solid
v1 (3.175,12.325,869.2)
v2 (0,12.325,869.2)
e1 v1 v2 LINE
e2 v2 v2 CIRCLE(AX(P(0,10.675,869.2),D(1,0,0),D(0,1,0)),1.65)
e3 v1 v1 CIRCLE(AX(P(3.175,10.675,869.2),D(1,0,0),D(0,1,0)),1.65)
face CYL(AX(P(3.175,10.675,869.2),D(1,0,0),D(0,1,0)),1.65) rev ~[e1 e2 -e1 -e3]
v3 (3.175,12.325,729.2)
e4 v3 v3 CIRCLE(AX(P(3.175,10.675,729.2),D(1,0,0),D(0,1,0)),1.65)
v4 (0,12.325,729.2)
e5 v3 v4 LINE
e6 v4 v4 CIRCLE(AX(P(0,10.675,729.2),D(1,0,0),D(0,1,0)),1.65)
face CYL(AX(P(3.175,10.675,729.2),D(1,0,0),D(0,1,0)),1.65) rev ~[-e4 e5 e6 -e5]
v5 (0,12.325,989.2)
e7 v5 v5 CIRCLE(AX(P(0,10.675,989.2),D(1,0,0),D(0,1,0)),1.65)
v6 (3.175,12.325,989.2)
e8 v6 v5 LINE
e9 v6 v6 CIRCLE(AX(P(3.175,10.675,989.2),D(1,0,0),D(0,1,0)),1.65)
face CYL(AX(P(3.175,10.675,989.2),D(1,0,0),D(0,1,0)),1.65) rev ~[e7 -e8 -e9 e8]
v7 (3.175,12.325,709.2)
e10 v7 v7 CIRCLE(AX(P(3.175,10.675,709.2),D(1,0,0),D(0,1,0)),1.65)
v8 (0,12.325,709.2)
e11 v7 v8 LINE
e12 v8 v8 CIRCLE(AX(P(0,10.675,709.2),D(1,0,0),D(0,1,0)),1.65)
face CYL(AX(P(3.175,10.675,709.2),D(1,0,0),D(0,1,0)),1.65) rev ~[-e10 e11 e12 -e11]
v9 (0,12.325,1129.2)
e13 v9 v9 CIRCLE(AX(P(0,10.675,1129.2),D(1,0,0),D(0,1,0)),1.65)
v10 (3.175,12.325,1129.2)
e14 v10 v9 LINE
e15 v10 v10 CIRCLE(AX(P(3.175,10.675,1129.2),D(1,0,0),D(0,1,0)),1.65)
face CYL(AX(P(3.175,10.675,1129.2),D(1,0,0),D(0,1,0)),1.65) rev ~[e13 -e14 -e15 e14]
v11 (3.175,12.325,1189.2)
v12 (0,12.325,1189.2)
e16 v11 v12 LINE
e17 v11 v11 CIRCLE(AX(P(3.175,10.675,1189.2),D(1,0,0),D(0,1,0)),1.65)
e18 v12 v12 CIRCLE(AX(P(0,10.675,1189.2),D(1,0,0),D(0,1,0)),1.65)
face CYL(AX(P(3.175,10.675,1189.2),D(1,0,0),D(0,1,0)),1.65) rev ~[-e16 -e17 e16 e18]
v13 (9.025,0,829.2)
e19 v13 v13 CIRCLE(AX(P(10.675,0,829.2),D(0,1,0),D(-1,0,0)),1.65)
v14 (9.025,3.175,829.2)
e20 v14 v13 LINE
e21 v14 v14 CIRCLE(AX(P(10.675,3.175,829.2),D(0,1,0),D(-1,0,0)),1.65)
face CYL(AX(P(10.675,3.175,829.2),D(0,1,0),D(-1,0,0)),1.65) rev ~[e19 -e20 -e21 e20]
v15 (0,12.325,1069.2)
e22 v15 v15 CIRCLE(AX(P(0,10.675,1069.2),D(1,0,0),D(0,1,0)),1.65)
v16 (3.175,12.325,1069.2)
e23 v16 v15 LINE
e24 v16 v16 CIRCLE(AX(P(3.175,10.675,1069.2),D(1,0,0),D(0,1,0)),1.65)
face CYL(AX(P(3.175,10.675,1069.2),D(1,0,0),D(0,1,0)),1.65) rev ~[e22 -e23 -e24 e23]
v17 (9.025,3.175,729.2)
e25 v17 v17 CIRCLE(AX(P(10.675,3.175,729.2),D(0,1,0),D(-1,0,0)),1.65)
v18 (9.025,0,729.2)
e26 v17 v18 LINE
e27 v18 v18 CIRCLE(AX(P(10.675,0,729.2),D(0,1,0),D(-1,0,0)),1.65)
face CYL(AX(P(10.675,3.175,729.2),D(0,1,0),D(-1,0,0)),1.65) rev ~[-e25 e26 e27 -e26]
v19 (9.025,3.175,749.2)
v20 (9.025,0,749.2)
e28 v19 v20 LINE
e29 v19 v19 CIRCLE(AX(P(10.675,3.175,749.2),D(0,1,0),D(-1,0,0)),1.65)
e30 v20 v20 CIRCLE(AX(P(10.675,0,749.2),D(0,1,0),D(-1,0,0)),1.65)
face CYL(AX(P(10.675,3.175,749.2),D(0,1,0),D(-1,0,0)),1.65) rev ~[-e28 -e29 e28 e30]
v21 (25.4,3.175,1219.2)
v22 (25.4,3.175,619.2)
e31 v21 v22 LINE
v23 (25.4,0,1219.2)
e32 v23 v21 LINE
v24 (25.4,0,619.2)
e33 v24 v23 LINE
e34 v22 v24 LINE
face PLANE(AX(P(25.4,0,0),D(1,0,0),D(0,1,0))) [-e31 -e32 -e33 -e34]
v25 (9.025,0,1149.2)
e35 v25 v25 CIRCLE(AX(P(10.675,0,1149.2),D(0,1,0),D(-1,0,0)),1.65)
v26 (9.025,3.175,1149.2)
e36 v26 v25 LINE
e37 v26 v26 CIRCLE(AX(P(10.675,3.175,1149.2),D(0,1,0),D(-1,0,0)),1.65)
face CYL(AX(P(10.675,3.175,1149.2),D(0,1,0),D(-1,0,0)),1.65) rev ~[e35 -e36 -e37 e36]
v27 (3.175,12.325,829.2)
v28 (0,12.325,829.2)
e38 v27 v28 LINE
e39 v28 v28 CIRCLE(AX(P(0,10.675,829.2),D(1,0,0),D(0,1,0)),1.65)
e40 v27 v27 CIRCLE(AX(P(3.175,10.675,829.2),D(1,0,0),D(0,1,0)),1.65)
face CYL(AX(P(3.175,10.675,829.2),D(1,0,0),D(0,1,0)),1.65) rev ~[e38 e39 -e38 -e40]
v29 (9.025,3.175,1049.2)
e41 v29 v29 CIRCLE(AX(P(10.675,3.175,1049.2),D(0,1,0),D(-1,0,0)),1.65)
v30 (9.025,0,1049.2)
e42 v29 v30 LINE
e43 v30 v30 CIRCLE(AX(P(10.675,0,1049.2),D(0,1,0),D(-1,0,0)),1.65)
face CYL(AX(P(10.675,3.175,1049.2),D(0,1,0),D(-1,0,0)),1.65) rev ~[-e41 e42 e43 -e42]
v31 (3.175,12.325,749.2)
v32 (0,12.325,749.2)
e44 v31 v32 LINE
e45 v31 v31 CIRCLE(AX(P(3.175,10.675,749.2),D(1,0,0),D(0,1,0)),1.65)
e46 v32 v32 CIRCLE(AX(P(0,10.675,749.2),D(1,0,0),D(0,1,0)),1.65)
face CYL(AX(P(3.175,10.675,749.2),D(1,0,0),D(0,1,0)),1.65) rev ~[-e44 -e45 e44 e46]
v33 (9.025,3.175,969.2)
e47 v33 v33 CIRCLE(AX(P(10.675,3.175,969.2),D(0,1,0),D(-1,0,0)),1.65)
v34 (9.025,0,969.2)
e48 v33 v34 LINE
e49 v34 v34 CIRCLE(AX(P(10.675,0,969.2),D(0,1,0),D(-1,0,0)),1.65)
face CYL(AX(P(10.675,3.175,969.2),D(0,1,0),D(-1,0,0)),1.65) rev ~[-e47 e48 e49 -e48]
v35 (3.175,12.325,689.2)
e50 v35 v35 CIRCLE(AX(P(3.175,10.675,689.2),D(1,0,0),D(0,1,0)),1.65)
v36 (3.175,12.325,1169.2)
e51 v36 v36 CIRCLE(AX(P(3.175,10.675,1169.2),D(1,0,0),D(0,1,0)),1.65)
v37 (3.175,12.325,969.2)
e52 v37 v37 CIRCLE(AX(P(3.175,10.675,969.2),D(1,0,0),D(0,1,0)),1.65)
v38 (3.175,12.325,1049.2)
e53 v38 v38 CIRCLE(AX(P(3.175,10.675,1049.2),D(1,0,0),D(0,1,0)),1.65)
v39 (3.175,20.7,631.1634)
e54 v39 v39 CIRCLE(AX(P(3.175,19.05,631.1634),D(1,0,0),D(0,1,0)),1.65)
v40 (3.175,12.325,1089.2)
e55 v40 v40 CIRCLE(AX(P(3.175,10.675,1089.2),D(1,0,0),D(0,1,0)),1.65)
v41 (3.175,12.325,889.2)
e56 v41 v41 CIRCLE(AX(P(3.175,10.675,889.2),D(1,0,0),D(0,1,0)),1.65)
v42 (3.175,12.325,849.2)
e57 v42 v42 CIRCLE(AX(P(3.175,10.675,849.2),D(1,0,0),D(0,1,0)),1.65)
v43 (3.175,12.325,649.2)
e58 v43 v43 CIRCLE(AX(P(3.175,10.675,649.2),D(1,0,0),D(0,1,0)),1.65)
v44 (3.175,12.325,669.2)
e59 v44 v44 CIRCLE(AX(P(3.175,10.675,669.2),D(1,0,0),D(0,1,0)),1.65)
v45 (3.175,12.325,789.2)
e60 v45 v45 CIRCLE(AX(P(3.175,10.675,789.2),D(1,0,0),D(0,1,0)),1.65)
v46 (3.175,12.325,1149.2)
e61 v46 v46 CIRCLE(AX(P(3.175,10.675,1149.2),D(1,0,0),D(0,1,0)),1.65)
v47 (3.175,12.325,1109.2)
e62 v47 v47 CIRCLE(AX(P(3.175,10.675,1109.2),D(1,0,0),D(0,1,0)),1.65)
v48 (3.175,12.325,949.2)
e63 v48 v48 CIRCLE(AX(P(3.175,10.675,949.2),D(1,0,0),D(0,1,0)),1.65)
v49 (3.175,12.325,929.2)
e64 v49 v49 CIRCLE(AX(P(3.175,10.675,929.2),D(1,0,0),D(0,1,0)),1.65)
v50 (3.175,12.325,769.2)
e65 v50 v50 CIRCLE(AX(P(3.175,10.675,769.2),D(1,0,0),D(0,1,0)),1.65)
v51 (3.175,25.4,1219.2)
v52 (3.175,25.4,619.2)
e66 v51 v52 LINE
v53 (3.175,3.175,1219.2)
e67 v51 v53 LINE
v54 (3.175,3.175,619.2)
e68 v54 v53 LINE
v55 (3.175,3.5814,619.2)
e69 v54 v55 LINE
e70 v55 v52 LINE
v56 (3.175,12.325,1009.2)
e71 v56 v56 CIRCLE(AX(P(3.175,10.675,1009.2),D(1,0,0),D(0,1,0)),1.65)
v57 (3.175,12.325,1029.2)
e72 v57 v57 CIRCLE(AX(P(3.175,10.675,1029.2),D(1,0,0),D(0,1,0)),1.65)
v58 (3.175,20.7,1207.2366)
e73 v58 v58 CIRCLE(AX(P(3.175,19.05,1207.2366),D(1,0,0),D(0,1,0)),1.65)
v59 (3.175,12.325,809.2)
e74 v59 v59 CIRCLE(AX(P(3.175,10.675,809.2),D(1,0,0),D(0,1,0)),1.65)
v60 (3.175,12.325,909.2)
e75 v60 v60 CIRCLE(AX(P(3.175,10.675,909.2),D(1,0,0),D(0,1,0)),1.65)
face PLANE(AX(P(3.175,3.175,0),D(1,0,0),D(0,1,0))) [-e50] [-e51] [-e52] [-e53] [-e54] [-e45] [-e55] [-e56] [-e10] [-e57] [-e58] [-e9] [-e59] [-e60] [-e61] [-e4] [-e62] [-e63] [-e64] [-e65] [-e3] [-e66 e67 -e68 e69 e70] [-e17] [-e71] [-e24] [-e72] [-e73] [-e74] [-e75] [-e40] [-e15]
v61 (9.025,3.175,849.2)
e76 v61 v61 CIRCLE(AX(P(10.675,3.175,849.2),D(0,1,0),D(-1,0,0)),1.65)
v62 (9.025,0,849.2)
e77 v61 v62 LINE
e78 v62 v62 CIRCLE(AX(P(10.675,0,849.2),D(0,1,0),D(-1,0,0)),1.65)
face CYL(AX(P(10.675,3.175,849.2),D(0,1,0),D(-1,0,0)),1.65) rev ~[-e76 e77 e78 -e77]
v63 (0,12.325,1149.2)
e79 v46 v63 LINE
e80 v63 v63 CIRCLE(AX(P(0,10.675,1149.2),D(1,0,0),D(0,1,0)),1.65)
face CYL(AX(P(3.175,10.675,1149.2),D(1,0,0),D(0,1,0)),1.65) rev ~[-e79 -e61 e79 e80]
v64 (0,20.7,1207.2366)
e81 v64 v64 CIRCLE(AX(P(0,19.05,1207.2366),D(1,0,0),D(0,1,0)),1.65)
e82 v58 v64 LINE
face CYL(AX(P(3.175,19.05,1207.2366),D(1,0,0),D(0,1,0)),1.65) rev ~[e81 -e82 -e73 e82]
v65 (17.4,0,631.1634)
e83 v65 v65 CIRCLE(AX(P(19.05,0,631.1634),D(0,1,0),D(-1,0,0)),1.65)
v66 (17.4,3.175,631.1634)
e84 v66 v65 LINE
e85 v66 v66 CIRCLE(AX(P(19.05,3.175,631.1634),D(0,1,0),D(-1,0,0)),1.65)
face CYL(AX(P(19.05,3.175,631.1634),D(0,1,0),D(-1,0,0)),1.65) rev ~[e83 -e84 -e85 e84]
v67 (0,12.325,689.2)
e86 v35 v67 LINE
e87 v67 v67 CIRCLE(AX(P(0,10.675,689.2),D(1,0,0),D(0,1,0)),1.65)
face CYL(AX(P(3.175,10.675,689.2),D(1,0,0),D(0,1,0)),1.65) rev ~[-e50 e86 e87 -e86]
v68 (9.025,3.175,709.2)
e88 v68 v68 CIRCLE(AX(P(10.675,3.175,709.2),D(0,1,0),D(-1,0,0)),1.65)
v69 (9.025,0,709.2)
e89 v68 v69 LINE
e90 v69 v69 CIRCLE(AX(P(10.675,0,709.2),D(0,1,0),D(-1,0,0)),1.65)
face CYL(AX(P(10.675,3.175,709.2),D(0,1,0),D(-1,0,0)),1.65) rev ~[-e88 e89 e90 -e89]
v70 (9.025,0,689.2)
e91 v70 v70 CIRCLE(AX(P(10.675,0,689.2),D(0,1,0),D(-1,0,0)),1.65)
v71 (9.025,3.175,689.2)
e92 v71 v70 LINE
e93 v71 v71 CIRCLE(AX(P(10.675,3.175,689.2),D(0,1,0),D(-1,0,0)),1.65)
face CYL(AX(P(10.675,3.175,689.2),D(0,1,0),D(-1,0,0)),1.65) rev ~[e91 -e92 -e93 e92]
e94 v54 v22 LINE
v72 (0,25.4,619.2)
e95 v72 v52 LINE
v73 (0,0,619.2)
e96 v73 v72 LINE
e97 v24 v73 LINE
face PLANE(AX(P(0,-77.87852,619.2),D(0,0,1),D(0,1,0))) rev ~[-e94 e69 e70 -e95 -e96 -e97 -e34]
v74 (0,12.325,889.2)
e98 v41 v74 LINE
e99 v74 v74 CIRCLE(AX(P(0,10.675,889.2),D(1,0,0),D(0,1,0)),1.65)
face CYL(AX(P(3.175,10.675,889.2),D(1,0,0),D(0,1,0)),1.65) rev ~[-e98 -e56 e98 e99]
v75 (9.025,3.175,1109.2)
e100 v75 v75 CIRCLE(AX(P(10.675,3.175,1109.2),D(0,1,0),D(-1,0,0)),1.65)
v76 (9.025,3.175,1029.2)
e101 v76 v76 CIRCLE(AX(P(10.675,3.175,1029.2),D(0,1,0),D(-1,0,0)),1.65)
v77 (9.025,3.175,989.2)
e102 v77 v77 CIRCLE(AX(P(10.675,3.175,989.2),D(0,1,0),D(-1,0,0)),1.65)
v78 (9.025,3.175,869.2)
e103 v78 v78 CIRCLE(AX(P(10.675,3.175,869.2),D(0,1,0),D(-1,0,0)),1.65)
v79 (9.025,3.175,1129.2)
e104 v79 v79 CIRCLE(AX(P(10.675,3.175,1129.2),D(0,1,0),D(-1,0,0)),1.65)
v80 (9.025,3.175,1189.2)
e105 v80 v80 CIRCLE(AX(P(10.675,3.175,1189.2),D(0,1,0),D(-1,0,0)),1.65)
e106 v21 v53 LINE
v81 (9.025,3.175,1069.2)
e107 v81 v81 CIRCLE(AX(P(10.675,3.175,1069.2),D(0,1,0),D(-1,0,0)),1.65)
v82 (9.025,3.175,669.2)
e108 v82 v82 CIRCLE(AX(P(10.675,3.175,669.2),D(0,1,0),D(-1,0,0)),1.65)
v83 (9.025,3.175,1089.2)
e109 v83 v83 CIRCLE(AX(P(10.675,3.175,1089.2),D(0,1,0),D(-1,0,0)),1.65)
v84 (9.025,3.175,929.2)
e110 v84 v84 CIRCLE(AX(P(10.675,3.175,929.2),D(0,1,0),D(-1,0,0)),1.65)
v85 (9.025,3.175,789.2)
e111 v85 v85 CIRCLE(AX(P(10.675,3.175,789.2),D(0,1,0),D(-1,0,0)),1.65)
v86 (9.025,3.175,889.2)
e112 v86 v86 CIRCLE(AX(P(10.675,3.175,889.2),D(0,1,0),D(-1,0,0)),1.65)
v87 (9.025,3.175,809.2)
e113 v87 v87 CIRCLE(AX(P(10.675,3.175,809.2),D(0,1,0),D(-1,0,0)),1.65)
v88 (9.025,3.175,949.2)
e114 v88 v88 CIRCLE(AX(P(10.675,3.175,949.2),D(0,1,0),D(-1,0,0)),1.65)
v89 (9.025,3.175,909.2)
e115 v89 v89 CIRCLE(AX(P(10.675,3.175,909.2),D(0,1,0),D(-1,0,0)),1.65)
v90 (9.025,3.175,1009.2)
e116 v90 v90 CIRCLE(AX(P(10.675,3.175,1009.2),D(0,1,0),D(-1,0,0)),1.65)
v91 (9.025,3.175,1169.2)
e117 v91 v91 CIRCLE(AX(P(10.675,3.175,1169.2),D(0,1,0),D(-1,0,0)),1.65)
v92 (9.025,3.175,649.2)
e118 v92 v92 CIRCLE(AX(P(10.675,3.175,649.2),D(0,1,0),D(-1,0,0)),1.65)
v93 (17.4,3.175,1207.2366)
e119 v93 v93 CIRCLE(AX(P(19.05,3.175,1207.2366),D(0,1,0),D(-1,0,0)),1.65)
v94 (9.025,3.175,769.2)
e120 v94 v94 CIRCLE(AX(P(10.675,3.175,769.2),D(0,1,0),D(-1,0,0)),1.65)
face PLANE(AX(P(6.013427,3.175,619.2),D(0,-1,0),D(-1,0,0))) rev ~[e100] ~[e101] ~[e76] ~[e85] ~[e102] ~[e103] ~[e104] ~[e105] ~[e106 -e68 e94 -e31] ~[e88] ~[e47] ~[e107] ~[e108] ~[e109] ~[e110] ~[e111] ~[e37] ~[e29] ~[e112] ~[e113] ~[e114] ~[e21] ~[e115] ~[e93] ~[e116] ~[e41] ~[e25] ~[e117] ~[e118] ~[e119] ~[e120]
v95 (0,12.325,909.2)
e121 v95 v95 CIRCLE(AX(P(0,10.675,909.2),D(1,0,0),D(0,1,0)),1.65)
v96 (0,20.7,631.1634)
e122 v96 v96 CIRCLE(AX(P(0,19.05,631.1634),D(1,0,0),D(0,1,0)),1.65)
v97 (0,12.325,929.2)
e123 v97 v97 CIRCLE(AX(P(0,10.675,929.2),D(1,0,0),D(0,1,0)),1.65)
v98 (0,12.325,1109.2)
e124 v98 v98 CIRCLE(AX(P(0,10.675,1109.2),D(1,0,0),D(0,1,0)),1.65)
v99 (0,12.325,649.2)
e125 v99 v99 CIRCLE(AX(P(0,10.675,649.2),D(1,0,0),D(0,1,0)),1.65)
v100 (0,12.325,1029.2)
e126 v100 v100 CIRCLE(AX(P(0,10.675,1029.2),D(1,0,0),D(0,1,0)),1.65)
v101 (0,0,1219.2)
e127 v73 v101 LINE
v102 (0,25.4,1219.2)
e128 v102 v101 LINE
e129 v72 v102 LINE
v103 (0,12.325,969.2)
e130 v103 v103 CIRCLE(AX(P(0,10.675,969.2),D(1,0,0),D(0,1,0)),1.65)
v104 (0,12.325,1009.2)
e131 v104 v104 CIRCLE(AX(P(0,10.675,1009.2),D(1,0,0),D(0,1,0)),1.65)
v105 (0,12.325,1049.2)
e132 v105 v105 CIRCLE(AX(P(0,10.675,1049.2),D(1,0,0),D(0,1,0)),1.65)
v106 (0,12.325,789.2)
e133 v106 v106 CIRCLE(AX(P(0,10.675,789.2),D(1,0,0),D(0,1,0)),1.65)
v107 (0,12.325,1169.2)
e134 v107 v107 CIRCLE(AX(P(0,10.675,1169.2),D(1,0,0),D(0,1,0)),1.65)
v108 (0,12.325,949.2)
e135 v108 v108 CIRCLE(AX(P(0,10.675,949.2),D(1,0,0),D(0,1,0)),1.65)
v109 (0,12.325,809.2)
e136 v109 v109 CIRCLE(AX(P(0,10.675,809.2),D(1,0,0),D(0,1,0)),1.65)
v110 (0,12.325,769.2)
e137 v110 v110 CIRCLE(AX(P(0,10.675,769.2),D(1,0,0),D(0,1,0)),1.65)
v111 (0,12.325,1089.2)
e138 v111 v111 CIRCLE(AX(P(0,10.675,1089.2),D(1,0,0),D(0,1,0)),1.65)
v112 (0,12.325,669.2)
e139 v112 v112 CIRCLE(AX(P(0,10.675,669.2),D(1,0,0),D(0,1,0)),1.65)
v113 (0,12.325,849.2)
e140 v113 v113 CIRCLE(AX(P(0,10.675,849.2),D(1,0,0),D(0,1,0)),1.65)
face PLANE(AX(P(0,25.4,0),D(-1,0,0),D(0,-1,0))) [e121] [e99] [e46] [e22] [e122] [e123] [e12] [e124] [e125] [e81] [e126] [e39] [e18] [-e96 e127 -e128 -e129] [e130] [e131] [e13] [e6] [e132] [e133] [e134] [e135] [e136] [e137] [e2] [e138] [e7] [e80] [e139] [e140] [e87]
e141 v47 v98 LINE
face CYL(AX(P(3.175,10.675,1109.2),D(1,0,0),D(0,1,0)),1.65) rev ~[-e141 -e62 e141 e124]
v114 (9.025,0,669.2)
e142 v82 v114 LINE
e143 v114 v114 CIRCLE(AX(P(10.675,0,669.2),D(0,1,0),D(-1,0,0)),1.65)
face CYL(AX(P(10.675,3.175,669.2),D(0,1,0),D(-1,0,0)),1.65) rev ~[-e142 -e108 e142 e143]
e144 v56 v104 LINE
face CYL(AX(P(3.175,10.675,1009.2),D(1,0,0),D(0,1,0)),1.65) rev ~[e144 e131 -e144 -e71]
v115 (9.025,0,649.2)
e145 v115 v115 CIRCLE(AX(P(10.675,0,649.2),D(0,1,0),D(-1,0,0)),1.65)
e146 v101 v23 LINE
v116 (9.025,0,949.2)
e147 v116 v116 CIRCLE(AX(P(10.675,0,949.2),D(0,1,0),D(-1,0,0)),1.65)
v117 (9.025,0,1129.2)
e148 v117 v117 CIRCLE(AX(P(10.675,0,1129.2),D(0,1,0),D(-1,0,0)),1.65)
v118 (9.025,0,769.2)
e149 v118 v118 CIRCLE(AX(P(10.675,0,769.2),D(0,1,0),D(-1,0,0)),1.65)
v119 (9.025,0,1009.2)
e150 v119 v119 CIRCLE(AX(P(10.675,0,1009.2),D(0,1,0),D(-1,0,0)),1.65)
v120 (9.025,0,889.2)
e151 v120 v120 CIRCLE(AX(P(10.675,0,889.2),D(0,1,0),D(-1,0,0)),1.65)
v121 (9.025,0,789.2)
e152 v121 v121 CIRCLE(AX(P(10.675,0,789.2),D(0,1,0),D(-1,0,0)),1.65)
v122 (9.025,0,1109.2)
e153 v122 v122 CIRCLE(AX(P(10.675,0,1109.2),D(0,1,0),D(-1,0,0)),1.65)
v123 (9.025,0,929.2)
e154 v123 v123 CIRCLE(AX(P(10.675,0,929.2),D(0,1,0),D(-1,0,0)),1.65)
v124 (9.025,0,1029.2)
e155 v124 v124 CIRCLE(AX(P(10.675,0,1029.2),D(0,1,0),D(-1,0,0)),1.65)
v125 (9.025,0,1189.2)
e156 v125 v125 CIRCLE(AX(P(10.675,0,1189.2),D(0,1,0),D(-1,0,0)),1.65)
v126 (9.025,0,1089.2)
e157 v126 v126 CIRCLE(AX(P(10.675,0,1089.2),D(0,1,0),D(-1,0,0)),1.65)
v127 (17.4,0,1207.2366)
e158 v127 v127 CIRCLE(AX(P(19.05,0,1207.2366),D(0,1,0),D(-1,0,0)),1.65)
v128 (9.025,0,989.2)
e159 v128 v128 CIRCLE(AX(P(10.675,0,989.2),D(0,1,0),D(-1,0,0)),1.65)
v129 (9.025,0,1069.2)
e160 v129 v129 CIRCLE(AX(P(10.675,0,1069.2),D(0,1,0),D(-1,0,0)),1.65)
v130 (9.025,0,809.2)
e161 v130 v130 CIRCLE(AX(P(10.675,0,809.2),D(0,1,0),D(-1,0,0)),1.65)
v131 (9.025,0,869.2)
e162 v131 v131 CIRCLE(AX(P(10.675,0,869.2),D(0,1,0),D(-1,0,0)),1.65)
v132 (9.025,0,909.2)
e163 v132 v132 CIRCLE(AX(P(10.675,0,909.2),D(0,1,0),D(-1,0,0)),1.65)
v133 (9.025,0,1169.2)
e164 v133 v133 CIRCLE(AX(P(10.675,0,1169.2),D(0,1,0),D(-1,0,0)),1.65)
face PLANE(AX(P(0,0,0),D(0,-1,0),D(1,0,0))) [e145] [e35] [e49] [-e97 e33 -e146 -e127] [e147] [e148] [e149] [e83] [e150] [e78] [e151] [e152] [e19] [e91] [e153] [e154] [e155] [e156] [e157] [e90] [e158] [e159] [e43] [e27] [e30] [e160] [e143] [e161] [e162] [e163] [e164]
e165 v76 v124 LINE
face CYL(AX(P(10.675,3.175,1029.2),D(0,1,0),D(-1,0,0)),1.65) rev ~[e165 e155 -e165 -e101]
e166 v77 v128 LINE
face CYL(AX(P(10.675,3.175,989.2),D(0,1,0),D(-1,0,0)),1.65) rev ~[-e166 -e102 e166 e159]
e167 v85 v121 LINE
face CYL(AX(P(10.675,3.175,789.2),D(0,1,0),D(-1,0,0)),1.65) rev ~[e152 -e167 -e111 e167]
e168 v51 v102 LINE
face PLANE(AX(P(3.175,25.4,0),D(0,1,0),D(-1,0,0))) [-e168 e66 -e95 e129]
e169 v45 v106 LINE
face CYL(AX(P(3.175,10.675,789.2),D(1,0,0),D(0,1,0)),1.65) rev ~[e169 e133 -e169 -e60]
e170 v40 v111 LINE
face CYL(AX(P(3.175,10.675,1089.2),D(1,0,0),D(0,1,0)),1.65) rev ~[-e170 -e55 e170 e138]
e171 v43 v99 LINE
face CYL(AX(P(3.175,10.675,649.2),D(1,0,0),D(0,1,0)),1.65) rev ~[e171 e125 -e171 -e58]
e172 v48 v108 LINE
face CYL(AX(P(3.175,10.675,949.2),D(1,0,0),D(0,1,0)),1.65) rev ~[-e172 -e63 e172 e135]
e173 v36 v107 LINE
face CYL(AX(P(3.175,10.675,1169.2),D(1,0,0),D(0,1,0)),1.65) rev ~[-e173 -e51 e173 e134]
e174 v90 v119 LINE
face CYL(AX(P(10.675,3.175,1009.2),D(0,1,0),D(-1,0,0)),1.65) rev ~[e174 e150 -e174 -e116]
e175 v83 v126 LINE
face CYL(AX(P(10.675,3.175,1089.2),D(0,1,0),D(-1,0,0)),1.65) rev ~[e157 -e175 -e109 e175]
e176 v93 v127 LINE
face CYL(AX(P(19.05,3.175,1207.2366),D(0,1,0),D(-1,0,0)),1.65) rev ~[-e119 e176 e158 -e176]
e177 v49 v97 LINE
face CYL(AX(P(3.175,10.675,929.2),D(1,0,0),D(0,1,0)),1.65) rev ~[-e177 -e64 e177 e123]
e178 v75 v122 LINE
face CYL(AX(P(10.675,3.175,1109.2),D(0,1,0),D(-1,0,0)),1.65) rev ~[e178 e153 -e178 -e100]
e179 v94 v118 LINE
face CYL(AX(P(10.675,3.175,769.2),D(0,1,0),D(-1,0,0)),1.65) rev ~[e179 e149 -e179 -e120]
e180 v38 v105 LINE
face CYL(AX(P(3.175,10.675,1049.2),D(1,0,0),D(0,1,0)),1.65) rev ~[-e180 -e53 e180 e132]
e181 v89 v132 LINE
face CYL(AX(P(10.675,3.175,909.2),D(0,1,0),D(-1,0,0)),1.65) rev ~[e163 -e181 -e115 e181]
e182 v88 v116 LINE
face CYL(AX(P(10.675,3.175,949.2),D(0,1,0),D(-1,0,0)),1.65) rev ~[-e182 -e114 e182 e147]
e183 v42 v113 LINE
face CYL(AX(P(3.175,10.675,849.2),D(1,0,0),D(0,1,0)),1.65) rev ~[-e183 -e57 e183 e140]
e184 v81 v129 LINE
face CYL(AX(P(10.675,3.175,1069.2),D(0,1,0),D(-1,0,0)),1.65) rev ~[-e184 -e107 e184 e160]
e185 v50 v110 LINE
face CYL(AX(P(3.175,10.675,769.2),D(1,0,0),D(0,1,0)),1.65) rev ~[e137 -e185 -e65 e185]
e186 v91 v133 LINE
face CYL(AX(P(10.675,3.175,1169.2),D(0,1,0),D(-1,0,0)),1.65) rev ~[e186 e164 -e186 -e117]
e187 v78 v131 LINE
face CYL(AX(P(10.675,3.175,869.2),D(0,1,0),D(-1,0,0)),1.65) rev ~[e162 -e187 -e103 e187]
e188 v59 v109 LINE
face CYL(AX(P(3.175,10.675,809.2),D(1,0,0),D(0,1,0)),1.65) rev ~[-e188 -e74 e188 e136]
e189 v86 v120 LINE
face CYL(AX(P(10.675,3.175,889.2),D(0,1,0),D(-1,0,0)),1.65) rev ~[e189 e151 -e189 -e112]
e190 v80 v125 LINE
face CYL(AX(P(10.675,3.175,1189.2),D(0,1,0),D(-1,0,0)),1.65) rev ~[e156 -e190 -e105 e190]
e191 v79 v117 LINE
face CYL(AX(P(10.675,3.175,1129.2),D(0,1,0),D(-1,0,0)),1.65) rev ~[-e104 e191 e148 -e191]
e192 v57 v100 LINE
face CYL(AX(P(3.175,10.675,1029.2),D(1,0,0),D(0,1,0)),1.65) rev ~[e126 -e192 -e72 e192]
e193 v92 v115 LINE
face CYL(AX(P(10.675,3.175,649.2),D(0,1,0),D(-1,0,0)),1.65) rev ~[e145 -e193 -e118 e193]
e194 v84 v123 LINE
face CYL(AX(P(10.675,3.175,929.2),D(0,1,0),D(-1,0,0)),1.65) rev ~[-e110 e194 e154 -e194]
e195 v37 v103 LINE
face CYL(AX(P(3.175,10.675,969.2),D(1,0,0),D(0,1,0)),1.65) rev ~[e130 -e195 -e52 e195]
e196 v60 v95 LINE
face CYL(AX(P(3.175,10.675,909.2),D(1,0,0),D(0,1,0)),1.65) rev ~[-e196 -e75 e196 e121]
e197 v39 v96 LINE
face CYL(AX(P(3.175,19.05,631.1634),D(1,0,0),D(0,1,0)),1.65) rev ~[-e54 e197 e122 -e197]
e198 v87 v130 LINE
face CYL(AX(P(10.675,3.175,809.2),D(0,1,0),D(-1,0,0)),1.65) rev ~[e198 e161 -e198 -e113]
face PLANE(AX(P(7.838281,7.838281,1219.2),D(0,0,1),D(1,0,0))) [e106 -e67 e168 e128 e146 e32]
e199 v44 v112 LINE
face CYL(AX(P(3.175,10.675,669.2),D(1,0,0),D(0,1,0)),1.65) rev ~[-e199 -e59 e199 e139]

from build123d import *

# Parameters (mm, degrees)
BOSS_EXTRUDE1_DEPTH = 1219.2
FILLET1_R           = 0.4064
SKETCH4_W           = 1838.4
SKETCH4_H           = 103.278519729
CUT_EXTRUDE1_DEPTH  = 60
SKETCH5_W           = 2.838427027
SKETCH5_H           = 1.970979722
CUT_EXTRUDE2_DEPTH  = 700
SKETCH9_R           = 1.65
CUT_EXTRUDE5_DEPTH  = 20
SKETCH10_R          = 1.65
CUT_EXTRUDE6_DEPTH  = 20
SKETCH11_R          = 1.65
CUT_EXTRUDE7_DEPTH  = 70
SKETCH12_R          = 1.65
CUT_EXTRUDE8_DEPTH  = 70


with BuildPart() as part:
    # Sketch3 → Boss-Extrude1 (new, symmetric)
    with BuildSketch(Plane.XY):
        Polygon((3.175, 25.4), (0, 25.4), (0, 0), (25.4, 0), (25.4, 3.175), (3.175, 3.175), align=None)
    extrude(amount=BOSS_EXTRUDE1_DEPTH, both=True)

    # Fillet1
    fillet1_edges = [part.edges().sort_by_distance(p)[0] for p in [
        (3.175, 3.175, 0),
    ]]
    fillet(fillet1_edges, radius=FILLET1_R)

    # Sketch4 → Cut-Extrude1 (cut)
    with BuildSketch(Plane.ZY):
        with Locations((-300, -26.239259864)):
            Rectangle(SKETCH4_W, SKETCH4_H)
    extrude(amount=-CUT_EXTRUDE1_DEPTH, mode=Mode.SUBTRACT)

    # Sketch5 → Cut-Extrude2 (cut)
    with BuildSketch(Plane(origin=(0, 0, 619.2), x_dir=(-1, 0, 0), z_dir=(0, 0, -1))):
        with Locations((-4.594213514, 4.160489861)):
            Rectangle(SKETCH5_W, SKETCH5_H)
    extrude(amount=-CUT_EXTRUDE2_DEPTH, mode=Mode.SUBTRACT)

    # Sketch9 → Cut-Extrude5 (cut)
    with BuildSketch(Plane(origin=(3.175, 0, 0), x_dir=(0, 0, -1), z_dir=(1, 0, 0))):
        with Locations(Location((-649.2, 10.675, 0), (0, 0, 90))):
            Circle(SKETCH9_R)
        with Locations(Location((-669.2, 10.675, 0), (0, 0, 90))):
            Circle(SKETCH9_R)
        with Locations(Location((-689.2, 10.675, 0), (0, 0, 90))):
            Circle(SKETCH9_R)
        with Locations(Location((-709.2, 10.675, 0), (0, 0, 90))):
            Circle(SKETCH9_R)
        with Locations(Location((-729.2, 10.675, 0), (0, 0, 90))):
            Circle(SKETCH9_R)
        with Locations(Location((-749.2, 10.675, 0), (0, 0, 90))):
            Circle(SKETCH9_R)
        with Locations(Location((-769.2, 10.675, 0), (0, 0, 90))):
            Circle(SKETCH9_R)
        with Locations(Location((-789.2, 10.675, 0), (0, 0, 90))):
            Circle(SKETCH9_R)
        with Locations(Location((-809.2, 10.675, 0), (0, 0, 90))):
            Circle(SKETCH9_R)
        with Locations(Location((-829.2, 10.675, 0), (0, 0, 90))):
            Circle(SKETCH9_R)
        with Locations(Location((-849.2, 10.675, 0), (0, 0, 90))):
            Circle(SKETCH9_R)
        with Locations(Location((-869.2, 10.675, 0), (0, 0, 90))):
            Circle(SKETCH9_R)
        with Locations(Location((-889.2, 10.675, 0), (0, 0, 90))):
            Circle(SKETCH9_R)
        with Locations(Location((-909.2, 10.675, 0), (0, 0, 90))):
            Circle(SKETCH9_R)
        with Locations(Location((-929.2, 10.675, 0), (0, 0, 90))):
            Circle(SKETCH9_R)
        with Locations(Location((-949.2, 10.675, 0), (0, 0, 90))):
            Circle(SKETCH9_R)
        with Locations(Location((-969.2, 10.675, 0), (0, 0, 90))):
            Circle(SKETCH9_R)
        with Locations(Location((-989.2, 10.675, 0), (0, 0, 90))):
            Circle(SKETCH9_R)
        with Locations(Location((-1009.2, 10.675, 0), (0, 0, 90))):
            Circle(SKETCH9_R)
        with Locations(Location((-1029.2, 10.675, 0), (0, 0, 90))):
            Circle(SKETCH9_R)
        with Locations(Location((-1049.2, 10.675, 0), (0, 0, 90))):
            Circle(SKETCH9_R)
        with Locations(Location((-1069.2, 10.675, 0), (0, 0, 90))):
            Circle(SKETCH9_R)
        with Locations(Location((-1089.2, 10.675, 0), (0, 0, 90))):
            Circle(SKETCH9_R)
        with Locations(Location((-1109.2, 10.675, 0), (0, 0, 90))):
            Circle(SKETCH9_R)
        with Locations(Location((-1129.2, 10.675, 0), (0, 0, 90))):
            Circle(SKETCH9_R)
        with Locations(Location((-1149.2, 10.675, 0), (0, 0, 90))):
            Circle(SKETCH9_R)
        with Locations(Location((-1169.2, 10.675, 0), (0, 0, 90))):
            Circle(SKETCH9_R)
        with Locations(Location((-1189.2, 10.675, 0), (0, 0, 90))):
            Circle(SKETCH9_R)
    extrude(amount=-CUT_EXTRUDE5_DEPTH, mode=Mode.SUBTRACT)

    # Sketch10 → Cut-Extrude6 (cut)
    with BuildSketch(Plane(origin=(0, 3.175, 0), x_dir=(1, 0, 0), z_dir=(0, 1, 0))):
        with Locations(Location((10.675, -649.2, 0), (0, 0, 180))):
            Circle(SKETCH10_R)
        with Locations(Location((10.675, -669.2, 0), (0, 0, 180))):
            Circle(SKETCH10_R)
        with Locations(Location((10.675, -689.2, 0), (0, 0, 180))):
            Circle(SKETCH10_R)
        with Locations(Location((10.675, -709.2, 0), (0, 0, 180))):
            Circle(SKETCH10_R)
        with Locations(Location((10.675, -729.2, 0), (0, 0, 180))):
            Circle(SKETCH10_R)
        with Locations(Location((10.675, -749.2, 0), (0, 0, 180))):
            Circle(SKETCH10_R)
        with Locations(Location((10.675, -769.2, 0), (0, 0, 180))):
            Circle(SKETCH10_R)
        with Locations(Location((10.675, -789.2, 0), (0, 0, 180))):
            Circle(SKETCH10_R)
        with Locations(Location((10.675, -809.2, 0), (0, 0, 180))):
            Circle(SKETCH10_R)
        with Locations(Location((10.675, -829.2, 0), (0, 0, 180))):
            Circle(SKETCH10_R)
        with Locations(Location((10.675, -849.2, 0), (0, 0, 180))):
            Circle(SKETCH10_R)
        with Locations(Location((10.675, -869.2, 0), (0, 0, 180))):
            Circle(SKETCH10_R)
        with Locations(Location((10.675, -889.2, 0), (0, 0, 180))):
            Circle(SKETCH10_R)
        with Locations(Location((10.675, -909.2, 0), (0, 0, 180))):
            Circle(SKETCH10_R)
        with Locations(Location((10.675, -929.2, 0), (0, 0, 180))):
            Circle(SKETCH10_R)
        with Locations(Location((10.675, -949.2, 0), (0, 0, 180))):
            Circle(SKETCH10_R)
        with Locations(Location((10.675, -969.2, 0), (0, 0, 180))):
            Circle(SKETCH10_R)
        with Locations(Location((10.675, -989.2, 0), (0, 0, 180))):
            Circle(SKETCH10_R)
        with Locations(Location((10.675, -1009.2, 0), (0, 0, 180))):
            Circle(SKETCH10_R)
        with Locations(Location((10.675, -1029.2, 0), (0, 0, 180))):
            Circle(SKETCH10_R)
        with Locations(Location((10.675, -1049.2, 0), (0, 0, 180))):
            Circle(SKETCH10_R)
        with Locations(Location((10.675, -1069.2, 0), (0, 0, 180))):
            Circle(SKETCH10_R)
        with Locations(Location((10.675, -1089.2, 0), (0, 0, 180))):
            Circle(SKETCH10_R)
        with Locations(Location((10.675, -1109.2, 0), (0, 0, 180))):
            Circle(SKETCH10_R)
        with Locations(Location((10.675, -1129.2, 0), (0, 0, 180))):
            Circle(SKETCH10_R)
        with Locations(Location((10.675, -1149.2, 0), (0, 0, 180))):
            Circle(SKETCH10_R)
        with Locations(Location((10.675, -1169.2, 0), (0, 0, 180))):
            Circle(SKETCH10_R)
        with Locations(Location((10.675, -1189.2, 0), (0, 0, 180))):
            Circle(SKETCH10_R)
    extrude(amount=-CUT_EXTRUDE6_DEPTH, mode=Mode.SUBTRACT)

    # Sketch11 → Cut-Extrude7 (cut)
    with BuildSketch(Plane(origin=(0, 3.175, 0), x_dir=(1, 0, 0), z_dir=(0, 1, 0))):
        with Locations(Location((19.05, -1207.2366, 0), (0, 0, 180))):
            Circle(SKETCH11_R)
        with Locations(Location((19.05, -631.1634, 0), (0, 0, 180))):
            Circle(SKETCH11_R)
    extrude(amount=-CUT_EXTRUDE7_DEPTH, mode=Mode.SUBTRACT)

    # Sketch12 → Cut-Extrude8 (cut)
    with BuildSketch(Plane(origin=(3.175, 0, 0), x_dir=(0, 0, -1), z_dir=(1, 0, 0))):
        with Locations(Location((-1207.2366, 19.05, 0), (0, 0, 90))):
            Circle(SKETCH12_R)
        with Locations(Location((-631.1634, 19.05, 0), (0, 0, 90))):
            Circle(SKETCH12_R)
    extrude(amount=-CUT_EXTRUDE8_DEPTH, mode=Mode.SUBTRACT)


solid = part.part
